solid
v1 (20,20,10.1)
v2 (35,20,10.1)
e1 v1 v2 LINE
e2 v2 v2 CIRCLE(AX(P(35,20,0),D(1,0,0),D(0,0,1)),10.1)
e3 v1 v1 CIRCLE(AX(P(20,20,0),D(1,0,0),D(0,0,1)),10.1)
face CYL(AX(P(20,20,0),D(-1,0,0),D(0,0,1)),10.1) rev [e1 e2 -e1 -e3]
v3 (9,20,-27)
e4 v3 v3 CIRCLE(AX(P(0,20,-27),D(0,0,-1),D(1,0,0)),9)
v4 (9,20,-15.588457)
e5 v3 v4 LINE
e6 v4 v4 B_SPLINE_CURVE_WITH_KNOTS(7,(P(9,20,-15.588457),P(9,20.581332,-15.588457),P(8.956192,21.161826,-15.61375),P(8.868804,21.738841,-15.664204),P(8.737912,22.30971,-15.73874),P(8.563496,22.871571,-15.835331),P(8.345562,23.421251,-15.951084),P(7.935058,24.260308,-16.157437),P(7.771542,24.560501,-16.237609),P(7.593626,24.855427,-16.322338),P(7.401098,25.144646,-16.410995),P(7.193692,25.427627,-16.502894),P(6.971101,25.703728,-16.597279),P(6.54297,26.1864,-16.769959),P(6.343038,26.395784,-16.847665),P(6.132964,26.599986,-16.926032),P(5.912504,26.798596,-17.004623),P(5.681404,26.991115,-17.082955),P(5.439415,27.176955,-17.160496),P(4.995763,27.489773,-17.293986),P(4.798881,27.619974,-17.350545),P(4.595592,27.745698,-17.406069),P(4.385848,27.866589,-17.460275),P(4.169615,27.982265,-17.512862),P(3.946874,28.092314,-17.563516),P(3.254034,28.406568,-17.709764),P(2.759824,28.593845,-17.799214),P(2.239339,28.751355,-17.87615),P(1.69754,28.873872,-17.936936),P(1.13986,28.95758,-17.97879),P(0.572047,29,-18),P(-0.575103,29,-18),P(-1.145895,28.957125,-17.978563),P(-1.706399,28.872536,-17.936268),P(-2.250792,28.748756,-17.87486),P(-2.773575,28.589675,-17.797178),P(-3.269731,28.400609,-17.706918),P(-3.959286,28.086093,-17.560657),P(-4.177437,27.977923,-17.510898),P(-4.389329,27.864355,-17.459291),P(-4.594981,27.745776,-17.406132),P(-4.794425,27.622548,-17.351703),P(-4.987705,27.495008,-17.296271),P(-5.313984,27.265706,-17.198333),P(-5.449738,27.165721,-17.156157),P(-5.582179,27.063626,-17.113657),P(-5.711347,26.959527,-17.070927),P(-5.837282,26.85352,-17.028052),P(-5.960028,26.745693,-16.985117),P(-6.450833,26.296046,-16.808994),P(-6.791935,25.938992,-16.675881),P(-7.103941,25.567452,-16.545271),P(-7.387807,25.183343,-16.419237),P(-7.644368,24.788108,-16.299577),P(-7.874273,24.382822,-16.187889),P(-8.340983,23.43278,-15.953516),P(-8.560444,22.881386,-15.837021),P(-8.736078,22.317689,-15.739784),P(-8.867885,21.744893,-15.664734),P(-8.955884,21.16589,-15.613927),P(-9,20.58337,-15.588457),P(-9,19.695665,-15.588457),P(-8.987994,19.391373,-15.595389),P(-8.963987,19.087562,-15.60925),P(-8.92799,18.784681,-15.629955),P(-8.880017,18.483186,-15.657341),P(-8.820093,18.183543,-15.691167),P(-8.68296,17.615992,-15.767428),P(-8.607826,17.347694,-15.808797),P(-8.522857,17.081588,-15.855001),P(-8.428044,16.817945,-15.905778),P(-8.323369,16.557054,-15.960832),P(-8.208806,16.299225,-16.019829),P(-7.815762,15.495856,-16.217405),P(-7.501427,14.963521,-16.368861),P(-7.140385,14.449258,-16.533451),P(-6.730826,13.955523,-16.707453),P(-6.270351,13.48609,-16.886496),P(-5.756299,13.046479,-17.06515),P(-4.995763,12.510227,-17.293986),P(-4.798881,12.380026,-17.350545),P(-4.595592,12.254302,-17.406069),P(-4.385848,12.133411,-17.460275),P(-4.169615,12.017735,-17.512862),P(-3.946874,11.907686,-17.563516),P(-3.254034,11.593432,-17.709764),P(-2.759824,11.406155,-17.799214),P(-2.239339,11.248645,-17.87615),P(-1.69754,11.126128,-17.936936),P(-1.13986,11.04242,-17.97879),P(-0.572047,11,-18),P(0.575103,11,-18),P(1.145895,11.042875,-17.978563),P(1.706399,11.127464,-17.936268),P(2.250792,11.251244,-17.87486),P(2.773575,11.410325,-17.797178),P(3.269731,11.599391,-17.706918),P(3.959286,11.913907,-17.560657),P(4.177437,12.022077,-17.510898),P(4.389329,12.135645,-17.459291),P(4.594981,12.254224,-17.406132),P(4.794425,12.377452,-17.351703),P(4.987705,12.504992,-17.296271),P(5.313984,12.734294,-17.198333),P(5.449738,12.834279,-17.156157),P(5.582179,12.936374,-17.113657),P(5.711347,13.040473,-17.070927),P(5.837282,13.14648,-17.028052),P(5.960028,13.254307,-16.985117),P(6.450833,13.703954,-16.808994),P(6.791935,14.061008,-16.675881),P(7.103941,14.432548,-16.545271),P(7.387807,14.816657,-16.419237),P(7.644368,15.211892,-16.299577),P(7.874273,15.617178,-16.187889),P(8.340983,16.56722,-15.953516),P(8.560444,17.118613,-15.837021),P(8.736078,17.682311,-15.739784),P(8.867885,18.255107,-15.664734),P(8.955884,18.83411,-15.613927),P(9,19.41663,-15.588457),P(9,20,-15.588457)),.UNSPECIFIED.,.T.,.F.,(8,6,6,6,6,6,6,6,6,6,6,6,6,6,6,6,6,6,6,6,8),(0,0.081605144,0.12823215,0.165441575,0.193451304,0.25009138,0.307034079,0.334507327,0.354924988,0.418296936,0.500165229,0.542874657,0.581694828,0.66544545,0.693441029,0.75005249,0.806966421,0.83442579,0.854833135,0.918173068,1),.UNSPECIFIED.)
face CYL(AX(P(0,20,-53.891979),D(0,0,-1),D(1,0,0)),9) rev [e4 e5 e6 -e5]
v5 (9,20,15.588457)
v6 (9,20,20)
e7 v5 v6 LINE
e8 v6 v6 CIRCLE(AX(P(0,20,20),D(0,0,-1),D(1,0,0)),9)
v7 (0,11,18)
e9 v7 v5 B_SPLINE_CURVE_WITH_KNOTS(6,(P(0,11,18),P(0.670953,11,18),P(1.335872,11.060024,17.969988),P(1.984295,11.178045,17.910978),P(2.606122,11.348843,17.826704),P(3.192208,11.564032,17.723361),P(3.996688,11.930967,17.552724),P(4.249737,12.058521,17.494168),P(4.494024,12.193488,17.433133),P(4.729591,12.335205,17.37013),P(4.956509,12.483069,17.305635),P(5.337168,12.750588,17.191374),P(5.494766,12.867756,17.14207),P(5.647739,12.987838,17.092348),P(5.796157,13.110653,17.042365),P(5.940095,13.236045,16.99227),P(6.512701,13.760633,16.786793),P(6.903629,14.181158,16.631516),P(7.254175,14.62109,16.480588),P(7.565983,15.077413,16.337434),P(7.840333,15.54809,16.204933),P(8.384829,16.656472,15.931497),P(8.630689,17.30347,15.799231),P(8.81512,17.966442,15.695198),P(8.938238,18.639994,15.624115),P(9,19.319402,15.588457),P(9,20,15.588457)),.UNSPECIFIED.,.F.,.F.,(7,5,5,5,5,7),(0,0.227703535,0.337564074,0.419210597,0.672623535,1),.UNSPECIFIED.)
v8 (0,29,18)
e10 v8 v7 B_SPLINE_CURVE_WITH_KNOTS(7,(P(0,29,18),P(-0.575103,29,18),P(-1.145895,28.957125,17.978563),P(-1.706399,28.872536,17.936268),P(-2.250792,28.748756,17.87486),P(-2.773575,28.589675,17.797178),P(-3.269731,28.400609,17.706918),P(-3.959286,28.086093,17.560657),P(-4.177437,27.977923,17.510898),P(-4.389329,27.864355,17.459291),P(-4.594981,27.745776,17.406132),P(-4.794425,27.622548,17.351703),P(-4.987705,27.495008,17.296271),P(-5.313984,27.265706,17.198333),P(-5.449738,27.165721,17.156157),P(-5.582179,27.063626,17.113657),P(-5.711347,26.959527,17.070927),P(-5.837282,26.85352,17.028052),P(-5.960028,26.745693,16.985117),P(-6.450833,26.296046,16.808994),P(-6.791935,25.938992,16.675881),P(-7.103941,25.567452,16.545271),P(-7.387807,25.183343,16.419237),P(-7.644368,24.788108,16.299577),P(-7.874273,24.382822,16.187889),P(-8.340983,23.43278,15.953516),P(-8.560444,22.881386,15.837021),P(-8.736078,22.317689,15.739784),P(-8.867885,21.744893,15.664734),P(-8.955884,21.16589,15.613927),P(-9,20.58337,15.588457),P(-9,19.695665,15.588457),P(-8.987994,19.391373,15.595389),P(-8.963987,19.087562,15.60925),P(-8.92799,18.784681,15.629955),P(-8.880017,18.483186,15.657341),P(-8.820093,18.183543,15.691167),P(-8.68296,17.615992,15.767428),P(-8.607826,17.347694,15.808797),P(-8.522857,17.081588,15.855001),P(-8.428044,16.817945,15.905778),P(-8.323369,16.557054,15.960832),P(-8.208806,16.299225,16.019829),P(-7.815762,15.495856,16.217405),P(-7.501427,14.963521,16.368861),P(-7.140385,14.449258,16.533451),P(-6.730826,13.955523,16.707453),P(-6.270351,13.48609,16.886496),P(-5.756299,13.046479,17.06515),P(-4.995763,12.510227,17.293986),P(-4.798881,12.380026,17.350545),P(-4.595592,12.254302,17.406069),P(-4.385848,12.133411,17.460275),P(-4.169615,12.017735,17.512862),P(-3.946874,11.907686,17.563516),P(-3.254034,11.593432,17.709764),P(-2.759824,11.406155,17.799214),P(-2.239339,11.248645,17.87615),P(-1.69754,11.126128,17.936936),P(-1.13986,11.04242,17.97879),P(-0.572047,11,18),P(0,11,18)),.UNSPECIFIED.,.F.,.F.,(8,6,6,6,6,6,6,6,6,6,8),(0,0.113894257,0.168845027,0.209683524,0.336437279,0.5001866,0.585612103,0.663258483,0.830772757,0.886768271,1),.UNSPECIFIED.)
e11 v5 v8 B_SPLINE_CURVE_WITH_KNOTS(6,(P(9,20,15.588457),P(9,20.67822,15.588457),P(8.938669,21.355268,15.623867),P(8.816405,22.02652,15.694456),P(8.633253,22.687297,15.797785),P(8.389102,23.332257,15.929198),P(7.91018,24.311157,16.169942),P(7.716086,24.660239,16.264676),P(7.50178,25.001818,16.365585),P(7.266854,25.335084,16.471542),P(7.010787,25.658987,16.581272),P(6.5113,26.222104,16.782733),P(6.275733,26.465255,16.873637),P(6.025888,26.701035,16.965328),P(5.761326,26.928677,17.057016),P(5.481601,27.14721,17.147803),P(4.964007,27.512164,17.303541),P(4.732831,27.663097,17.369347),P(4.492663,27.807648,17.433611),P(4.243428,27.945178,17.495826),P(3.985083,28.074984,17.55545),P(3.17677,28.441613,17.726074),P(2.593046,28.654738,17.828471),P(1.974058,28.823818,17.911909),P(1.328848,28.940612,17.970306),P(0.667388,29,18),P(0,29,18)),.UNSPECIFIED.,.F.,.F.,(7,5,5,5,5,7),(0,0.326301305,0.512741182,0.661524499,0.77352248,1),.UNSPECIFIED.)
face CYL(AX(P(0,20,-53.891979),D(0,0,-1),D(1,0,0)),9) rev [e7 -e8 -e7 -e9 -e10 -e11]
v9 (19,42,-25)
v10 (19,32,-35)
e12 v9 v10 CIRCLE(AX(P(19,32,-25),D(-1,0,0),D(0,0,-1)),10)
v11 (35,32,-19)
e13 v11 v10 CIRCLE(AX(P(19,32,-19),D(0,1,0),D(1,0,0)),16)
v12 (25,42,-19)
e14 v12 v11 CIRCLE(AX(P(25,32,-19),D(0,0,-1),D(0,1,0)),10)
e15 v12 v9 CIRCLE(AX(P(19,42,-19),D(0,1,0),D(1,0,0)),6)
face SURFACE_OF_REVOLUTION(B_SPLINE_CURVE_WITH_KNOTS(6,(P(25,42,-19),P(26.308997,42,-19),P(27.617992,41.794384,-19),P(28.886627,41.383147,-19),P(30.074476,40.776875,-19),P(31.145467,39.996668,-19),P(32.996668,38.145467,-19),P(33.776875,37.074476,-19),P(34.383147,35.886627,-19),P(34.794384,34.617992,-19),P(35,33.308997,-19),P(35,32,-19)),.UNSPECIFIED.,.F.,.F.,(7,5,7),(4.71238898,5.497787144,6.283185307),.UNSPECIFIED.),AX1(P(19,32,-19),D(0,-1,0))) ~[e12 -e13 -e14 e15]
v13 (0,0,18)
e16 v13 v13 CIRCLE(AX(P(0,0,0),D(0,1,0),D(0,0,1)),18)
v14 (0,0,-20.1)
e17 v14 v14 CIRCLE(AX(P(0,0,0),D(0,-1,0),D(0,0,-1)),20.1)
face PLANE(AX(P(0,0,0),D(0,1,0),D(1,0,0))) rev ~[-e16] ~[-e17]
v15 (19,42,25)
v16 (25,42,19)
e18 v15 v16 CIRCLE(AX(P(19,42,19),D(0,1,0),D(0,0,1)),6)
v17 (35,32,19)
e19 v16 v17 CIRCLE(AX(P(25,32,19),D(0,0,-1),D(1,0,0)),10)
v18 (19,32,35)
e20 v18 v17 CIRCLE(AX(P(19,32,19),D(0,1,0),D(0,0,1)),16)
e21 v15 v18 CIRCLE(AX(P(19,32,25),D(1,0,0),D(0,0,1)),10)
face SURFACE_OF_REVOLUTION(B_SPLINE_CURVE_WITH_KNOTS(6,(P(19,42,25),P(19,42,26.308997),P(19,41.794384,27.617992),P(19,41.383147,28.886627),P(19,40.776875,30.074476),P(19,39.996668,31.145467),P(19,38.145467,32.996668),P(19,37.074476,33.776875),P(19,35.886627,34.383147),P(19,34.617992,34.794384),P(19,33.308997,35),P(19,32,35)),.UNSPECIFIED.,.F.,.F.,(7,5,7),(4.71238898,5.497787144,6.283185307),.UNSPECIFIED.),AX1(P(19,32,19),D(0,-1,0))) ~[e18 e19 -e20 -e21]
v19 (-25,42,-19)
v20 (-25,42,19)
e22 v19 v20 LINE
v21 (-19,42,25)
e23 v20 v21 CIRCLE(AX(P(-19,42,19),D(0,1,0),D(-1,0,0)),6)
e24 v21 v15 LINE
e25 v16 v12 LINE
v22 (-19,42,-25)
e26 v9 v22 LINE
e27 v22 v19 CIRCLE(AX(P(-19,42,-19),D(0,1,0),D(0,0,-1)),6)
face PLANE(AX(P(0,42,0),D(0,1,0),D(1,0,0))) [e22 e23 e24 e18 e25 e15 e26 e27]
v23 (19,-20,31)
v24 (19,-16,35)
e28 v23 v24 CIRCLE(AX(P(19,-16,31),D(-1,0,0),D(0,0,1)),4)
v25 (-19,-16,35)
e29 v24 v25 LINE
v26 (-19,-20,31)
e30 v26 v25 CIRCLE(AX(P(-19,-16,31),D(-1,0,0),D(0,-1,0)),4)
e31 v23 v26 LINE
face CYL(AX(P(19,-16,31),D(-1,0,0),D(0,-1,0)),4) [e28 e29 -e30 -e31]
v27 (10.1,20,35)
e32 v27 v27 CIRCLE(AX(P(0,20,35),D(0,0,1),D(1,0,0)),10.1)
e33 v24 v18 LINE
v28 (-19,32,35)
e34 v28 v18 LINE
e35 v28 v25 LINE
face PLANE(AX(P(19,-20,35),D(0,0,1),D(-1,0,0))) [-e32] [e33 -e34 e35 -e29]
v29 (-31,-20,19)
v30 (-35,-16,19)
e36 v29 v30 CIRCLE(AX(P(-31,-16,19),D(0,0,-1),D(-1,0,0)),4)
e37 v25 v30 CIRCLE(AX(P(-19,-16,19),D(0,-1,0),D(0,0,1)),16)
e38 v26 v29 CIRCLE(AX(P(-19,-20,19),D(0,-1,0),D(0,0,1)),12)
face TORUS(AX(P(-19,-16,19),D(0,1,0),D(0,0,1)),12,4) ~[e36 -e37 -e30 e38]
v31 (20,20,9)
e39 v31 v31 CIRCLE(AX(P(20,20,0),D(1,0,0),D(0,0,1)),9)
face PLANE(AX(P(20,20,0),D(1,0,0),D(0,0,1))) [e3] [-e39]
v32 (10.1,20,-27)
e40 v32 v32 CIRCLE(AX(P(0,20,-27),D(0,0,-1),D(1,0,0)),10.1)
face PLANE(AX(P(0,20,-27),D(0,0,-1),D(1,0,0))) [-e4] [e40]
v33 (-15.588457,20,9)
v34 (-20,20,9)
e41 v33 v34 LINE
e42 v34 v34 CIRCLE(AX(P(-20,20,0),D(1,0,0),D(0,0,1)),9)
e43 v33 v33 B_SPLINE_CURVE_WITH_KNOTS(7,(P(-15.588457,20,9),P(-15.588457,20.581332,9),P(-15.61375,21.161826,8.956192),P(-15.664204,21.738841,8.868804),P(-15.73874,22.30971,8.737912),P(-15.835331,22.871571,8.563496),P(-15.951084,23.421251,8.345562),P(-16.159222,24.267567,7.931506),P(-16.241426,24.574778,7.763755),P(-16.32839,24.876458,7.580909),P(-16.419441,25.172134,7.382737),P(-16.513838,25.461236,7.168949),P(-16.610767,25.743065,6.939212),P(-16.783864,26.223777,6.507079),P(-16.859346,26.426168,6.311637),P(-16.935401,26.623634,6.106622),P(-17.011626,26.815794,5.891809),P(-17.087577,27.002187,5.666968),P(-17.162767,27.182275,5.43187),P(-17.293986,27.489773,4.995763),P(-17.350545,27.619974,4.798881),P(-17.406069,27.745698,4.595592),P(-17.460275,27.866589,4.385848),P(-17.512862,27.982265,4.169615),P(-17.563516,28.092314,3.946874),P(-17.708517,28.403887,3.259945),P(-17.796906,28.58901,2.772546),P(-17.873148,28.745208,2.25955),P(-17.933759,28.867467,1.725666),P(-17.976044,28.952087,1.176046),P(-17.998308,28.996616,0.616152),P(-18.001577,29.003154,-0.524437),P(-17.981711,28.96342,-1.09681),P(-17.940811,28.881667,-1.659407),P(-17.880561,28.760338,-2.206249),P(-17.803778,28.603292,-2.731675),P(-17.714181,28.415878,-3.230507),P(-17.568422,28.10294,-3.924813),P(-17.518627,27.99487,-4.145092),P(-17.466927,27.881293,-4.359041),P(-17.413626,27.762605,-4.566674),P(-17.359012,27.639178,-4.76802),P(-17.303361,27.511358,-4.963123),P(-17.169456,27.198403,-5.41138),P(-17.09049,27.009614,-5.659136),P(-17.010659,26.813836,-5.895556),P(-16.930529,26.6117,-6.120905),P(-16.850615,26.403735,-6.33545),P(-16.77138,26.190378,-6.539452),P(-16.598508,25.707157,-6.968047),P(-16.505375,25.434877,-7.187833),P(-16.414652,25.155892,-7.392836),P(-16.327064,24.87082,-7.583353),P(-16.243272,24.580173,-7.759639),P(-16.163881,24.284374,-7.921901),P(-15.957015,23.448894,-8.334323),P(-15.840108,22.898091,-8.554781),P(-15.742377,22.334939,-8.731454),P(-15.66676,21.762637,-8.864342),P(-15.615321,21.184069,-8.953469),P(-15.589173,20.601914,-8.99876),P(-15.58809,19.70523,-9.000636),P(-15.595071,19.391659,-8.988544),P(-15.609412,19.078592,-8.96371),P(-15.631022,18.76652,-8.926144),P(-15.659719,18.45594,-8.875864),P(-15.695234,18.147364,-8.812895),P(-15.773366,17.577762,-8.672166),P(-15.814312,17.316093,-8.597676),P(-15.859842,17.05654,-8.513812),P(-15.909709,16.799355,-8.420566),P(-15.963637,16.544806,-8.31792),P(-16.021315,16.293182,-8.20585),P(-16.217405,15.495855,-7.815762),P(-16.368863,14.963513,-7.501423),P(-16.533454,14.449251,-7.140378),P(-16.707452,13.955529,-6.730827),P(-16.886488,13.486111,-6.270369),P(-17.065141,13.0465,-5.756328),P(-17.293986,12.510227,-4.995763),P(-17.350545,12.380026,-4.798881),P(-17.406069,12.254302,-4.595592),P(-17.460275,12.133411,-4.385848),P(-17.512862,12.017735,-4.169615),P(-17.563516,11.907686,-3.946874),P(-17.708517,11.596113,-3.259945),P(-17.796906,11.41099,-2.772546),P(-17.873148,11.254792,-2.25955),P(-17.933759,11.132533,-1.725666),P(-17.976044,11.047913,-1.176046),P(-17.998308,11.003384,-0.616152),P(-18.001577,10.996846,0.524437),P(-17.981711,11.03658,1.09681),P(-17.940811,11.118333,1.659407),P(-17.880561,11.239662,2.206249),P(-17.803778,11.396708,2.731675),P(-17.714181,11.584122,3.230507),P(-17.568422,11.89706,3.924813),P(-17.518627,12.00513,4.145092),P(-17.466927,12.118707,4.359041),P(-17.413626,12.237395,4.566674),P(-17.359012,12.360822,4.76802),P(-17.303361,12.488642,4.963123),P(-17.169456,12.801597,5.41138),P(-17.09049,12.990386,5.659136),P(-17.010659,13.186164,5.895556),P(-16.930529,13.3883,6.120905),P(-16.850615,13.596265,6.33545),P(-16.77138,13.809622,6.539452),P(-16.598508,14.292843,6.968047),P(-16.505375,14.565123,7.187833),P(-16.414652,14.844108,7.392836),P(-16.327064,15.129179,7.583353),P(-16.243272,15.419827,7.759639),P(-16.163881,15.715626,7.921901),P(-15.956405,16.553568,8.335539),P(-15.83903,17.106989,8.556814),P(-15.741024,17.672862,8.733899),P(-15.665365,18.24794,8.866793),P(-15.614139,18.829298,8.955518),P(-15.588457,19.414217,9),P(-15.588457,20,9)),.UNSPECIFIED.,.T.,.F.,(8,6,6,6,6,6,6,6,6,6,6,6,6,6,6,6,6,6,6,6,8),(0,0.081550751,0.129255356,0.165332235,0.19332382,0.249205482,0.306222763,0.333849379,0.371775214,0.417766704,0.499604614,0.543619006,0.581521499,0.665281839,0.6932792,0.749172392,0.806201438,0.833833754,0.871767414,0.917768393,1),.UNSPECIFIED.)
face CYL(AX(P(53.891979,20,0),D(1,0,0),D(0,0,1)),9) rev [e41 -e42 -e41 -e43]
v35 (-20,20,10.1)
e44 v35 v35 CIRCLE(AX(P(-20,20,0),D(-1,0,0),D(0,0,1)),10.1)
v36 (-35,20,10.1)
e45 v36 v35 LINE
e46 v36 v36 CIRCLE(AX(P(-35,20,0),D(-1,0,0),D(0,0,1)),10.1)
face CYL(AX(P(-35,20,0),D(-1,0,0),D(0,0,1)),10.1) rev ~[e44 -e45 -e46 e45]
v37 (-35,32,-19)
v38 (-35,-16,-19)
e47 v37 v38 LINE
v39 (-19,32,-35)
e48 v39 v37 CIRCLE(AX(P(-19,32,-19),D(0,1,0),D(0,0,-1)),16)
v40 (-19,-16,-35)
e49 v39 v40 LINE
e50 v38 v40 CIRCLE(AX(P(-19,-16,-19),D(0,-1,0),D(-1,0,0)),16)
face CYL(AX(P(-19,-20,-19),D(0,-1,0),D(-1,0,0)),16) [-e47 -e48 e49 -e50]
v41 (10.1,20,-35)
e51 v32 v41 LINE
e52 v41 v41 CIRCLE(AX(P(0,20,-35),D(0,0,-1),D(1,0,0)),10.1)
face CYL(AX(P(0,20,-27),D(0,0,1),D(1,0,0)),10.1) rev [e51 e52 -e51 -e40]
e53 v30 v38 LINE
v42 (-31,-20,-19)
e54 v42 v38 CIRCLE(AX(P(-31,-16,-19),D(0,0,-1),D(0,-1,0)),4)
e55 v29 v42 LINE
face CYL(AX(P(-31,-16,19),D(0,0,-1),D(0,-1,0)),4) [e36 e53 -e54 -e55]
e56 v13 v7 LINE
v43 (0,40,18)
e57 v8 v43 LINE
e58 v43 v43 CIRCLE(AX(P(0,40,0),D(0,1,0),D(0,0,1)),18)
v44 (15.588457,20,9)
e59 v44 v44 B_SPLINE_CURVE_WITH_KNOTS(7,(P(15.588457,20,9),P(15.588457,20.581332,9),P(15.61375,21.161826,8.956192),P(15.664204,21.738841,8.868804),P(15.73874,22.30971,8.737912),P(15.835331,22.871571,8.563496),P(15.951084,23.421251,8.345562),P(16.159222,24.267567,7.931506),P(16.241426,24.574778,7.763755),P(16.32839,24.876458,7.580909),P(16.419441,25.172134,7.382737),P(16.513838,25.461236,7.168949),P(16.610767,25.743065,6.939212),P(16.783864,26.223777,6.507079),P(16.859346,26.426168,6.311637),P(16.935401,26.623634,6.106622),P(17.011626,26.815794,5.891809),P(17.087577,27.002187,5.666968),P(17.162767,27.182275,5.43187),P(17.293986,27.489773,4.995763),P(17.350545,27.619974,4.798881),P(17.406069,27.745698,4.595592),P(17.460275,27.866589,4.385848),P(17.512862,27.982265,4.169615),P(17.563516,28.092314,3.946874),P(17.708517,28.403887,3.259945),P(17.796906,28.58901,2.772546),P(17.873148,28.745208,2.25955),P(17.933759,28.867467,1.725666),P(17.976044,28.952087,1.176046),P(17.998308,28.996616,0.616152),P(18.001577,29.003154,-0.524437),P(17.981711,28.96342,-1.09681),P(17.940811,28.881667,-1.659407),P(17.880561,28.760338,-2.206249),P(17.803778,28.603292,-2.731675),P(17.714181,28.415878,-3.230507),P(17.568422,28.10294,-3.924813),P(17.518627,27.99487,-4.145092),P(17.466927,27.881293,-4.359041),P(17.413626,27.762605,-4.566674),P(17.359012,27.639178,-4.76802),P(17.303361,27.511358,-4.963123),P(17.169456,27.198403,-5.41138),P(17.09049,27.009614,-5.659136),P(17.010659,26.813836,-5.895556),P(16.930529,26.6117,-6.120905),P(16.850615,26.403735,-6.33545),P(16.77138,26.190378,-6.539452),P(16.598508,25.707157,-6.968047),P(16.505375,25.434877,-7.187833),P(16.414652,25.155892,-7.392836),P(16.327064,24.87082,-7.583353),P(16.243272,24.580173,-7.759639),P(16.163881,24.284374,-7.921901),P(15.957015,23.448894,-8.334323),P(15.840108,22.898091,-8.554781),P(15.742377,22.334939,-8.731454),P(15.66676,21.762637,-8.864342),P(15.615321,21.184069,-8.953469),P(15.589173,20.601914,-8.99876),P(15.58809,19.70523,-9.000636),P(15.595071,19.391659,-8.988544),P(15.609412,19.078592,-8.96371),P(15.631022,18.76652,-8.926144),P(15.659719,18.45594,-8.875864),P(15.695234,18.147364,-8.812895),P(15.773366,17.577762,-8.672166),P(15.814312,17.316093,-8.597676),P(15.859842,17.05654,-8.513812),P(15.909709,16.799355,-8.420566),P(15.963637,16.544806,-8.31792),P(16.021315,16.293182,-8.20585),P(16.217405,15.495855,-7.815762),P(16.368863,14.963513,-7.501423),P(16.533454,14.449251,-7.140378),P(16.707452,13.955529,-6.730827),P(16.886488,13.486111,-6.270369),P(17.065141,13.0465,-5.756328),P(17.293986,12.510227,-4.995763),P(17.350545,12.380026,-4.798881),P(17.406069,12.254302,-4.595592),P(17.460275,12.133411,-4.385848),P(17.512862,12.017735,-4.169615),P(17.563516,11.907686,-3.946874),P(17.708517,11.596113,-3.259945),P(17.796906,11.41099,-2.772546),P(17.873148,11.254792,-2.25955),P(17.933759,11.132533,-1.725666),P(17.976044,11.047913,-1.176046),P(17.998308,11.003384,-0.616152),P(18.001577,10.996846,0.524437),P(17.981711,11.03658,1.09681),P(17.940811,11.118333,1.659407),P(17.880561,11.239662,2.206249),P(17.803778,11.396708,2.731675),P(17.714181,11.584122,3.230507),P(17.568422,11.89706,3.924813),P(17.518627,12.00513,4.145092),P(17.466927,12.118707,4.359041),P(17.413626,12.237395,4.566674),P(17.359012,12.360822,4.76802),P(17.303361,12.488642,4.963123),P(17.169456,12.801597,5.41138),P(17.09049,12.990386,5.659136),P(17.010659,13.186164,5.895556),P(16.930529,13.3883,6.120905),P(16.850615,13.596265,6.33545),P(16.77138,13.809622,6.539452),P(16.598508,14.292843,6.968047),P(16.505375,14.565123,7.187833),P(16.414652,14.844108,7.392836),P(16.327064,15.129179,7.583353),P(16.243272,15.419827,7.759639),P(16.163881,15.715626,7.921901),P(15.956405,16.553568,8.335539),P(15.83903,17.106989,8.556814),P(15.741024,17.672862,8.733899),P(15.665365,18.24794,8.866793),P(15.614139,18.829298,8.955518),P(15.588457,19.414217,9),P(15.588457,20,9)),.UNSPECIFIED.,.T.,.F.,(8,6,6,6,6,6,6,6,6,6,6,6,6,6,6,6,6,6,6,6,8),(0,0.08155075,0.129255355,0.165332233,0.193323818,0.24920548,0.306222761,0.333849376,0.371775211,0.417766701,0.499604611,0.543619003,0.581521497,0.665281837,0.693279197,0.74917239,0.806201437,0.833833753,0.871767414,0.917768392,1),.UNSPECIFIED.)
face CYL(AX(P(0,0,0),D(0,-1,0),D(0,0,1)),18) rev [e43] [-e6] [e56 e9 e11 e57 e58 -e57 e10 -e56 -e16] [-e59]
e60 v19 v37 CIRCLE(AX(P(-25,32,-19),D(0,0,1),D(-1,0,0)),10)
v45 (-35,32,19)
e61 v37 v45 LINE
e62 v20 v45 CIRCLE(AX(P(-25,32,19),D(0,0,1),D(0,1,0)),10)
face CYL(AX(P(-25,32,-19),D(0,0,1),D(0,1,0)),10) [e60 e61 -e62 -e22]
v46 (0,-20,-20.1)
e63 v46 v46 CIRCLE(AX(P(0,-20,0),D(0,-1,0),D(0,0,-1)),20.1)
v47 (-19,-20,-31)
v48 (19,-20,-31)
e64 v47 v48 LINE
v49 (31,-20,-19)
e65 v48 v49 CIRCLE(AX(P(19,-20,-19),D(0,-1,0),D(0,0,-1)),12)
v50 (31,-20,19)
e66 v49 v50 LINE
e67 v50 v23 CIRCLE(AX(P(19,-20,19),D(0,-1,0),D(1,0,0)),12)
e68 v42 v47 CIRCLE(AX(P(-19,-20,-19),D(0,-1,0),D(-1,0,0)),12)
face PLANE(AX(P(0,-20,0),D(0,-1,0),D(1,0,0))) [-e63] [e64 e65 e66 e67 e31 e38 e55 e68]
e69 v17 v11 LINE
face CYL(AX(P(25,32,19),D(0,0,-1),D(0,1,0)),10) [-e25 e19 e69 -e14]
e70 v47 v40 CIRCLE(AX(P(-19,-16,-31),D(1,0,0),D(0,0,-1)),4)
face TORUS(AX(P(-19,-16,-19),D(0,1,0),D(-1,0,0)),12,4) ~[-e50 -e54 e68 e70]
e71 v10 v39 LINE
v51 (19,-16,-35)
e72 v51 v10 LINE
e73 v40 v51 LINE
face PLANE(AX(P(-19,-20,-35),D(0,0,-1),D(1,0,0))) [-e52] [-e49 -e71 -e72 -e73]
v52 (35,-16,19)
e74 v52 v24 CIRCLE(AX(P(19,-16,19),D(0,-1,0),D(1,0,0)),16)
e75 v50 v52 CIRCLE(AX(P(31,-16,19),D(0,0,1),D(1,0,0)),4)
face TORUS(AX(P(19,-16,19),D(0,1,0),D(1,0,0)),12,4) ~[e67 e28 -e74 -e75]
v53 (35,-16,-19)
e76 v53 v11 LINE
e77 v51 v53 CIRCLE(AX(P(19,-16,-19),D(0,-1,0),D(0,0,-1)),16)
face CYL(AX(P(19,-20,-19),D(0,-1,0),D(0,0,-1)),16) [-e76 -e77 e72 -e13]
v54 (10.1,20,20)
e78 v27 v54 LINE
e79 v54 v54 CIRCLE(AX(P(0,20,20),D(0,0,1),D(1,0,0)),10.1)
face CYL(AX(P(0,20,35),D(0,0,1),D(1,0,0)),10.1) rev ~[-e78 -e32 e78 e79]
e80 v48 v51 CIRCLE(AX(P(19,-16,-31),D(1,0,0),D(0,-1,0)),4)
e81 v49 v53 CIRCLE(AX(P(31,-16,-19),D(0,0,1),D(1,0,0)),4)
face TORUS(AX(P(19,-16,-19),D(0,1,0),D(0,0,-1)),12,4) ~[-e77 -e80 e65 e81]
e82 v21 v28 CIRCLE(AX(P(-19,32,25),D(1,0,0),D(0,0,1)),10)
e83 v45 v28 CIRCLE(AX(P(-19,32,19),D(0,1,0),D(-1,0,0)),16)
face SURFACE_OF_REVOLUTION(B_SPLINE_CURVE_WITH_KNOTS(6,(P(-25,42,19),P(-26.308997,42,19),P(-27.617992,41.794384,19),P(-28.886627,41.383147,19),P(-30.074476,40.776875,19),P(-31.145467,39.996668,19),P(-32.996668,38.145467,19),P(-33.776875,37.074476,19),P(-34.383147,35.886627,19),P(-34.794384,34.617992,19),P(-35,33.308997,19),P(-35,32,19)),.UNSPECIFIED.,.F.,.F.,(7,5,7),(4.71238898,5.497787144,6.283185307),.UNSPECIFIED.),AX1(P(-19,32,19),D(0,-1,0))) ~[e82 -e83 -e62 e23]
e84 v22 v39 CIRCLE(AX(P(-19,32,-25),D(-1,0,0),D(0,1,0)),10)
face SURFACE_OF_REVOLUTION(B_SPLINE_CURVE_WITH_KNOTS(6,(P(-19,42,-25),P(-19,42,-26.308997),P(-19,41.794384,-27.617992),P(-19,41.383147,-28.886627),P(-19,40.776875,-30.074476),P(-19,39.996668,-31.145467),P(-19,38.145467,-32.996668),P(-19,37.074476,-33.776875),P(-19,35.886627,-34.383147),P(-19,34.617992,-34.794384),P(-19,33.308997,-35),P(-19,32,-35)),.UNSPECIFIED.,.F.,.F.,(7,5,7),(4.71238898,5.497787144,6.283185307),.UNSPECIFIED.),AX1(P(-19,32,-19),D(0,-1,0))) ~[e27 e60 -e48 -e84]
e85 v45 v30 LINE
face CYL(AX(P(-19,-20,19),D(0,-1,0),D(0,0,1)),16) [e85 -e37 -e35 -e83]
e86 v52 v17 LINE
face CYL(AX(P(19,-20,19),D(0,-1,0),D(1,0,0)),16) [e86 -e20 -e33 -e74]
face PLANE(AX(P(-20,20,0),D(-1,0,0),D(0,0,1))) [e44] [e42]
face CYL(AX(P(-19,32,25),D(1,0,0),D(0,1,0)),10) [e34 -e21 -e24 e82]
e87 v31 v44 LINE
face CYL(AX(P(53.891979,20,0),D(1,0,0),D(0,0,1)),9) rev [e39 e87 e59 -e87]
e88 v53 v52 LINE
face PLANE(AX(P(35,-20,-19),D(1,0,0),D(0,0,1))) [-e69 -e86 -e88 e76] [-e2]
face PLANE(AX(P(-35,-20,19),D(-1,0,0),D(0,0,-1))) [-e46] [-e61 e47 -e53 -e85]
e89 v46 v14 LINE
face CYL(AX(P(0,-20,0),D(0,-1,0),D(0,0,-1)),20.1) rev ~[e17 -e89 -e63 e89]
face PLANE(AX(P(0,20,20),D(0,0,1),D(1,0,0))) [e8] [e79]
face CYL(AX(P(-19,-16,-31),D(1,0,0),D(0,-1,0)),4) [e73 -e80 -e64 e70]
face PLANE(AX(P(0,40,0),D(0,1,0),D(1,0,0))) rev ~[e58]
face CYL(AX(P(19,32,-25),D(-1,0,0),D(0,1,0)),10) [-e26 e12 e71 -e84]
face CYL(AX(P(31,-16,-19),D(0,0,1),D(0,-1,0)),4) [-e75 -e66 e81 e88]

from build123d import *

# Parameters (mm, degrees)
SKETCH_1_R               = 18
EXTRUDE_1_DEPTH          = 40
CUT_EXTRUDE_2_DEPTH      = 88.891979156
CUT_EXTRUDE_2_DEPTH_BACK = 88.891979156
SKETCH_2_R               = 9
SKETCH_3_R               = 10.1
CUT_EXTRUDE_3_DEPTH      = 15
CUT_EXTRUDE_START        = -15
SKETCH_4_R               = 10.1
CUT_EXTRUDE_4_DEPTH      = 15
CUT_EXTRUDE_5_DEPTH      = 88.891979202
CUT_EXTRUDE_5_DEPTH_BACK = 88.891979202
SKETCH_5_R               = 9
SKETCH_6_R               = 10.1
CUT_EXTRUDE_6_DEPTH      = 15
CUT_EXTRUDE_START_2      = -8
SKETCH_7_R               = 10.1
CUT_EXTRUDE_7_DEPTH      = 8
EXTRUDE_2_DEPTH          = 2
FILLET_1_R               = 10
EXTRUDE_START            = 20
SKETCH_10_R              = 20.1
EXTRUDE_3_DEPTH          = 20
FILLET_2_R               = 4


with BuildPart() as part:
    # Эскиз1 → Бобышка-Вытянуть1 (new body)
    with BuildSketch(Plane(origin=(0, 0, 0), x_dir=(1, 0, 0), z_dir=(0, 1, 0))):
        with BuildLine():
            Line((19, 35), (-19, 35))
            ThreePointArc((-19, 35), (-30.313708499, 30.313708499), (-35, 19))
            Line((-35, 19), (-35, -19))
            ThreePointArc((-35, -19), (-30.313708499, -30.313708499), (-19, -35))
            Line((-19, -35), (19, -35))
            ThreePointArc((19, -35), (30.313708499, -30.313708499), (35, -19))
            Line((35, -19), (35, 19))
            ThreePointArc((35, 19), (30.313708499, 30.313708499), (19, 35))
        make_face()
        with Locations(Location((0, 0, 0), (0, 0, 270))):
            Circle(SKETCH_1_R, mode=Mode.SUBTRACT)
    extrude(amount=EXTRUDE_1_DEPTH)

    # Эскиз2 → Вырез-Вытянуть2 (cut, two sides: drawn at the far end of the back side and taken through both)
    with BuildSketch(Plane.ZY.offset(35).offset(-CUT_EXTRUDE_2_DEPTH_BACK)):
        with Locations((0, 20)):
            Circle(SKETCH_2_R)
    extrude(amount=CUT_EXTRUDE_2_DEPTH + CUT_EXTRUDE_2_DEPTH_BACK, mode=Mode.SUBTRACT)

    # Эскиз3 → Вырез-Вытянуть3 (cut)
    with BuildSketch(Plane.ZY.offset(35)):
        with Locations((0, 20)):
            Circle(SKETCH_3_R)
    extrude(amount=-CUT_EXTRUDE_3_DEPTH, mode=Mode.SUBTRACT)

    # Эскиз4 → Вырез-Вытянуть4 (cut)
    with BuildSketch(Plane(origin=(35, 0, 0), x_dir=(0, 0, -1), z_dir=(1, 0, 0)).offset(CUT_EXTRUDE_START)):
        with Locations(Location((0, 20, 0), (0, 0, 180))):
            Circle(SKETCH_4_R)
    extrude(amount=CUT_EXTRUDE_4_DEPTH, mode=Mode.SUBTRACT)

    # Эскиз5 → Вырез-Вытянуть5 (cut, two sides: drawn at the far end of the back side and taken through both)
    with BuildSketch(Plane.XY.offset(35).offset(-CUT_EXTRUDE_5_DEPTH_BACK)):
        with Locations((0, 20)):
            Circle(SKETCH_5_R)
    extrude(amount=CUT_EXTRUDE_5_DEPTH + CUT_EXTRUDE_5_DEPTH_BACK, mode=Mode.SUBTRACT)

    # Эскиз6 → Вырез-Вытянуть6 (cut)
    with BuildSketch(Plane.XY.offset(35)):
        with Locations((0, 20)):
            Circle(SKETCH_6_R)
    extrude(amount=-CUT_EXTRUDE_6_DEPTH, mode=Mode.SUBTRACT)

    # Эскиз7 → Вырез-Вытянуть7 (cut)
    with BuildSketch(Plane(origin=(0, 0, -35), x_dir=(-1, 0, 0), z_dir=(0, 0, -1)).offset(CUT_EXTRUDE_START_2)):
        with Locations(Location((0, 20, 0), (0, 0, 180))):
            Circle(SKETCH_7_R)
    extrude(amount=CUT_EXTRUDE_7_DEPTH, mode=Mode.SUBTRACT)

    # Эскиз9 → Бобышка-Вытянуть2 (add)
    with BuildSketch(Plane(origin=(0, 40, 0), x_dir=(1, 0, 0), z_dir=(0, 1, 0))):
        with BuildLine():
            Line((35, -19), (35, 19))
            ThreePointArc((35, 19), (30.313708499, 30.313708499), (19, 35))
            Line((19, 35), (-19, 35))
            ThreePointArc((-19, 35), (-30.313708499, 30.313708499), (-35, 19))
            Line((-35, 19), (-35, -19))
            ThreePointArc((-35, -19), (-30.313708499, -30.313708499), (-19, -35))
            Line((-19, -35), (19, -35))
            ThreePointArc((19, -35), (30.313708499, -30.313708499), (35, -19))
        make_face()
    extrude(amount=EXTRUDE_2_DEPTH)

    # Скругление1
    fillet_1_edges = [part.edges().sort_by_distance(p)[0] for p in [
        (30.313708499, 42, 30.313708499),
        (35, 42, 0),
        (30.313708499, 42, -30.313708499),
        (0, 42, -35),
        (-30.313708499, 42, -30.313708499),
        (-35, 42, 0),
        (-30.313708499, 42, 30.313708499),
        (0, 42, 35),
    ]]
    fillet(fillet_1_edges, radius=FILLET_1_R)

    # Эскиз10 → Бобышка-Вытянуть3 (add)
    with BuildSketch(Plane.XZ.offset(EXTRUDE_START)):
        with BuildLine():
            Line((19, 35), (-19, 35))
            ThreePointArc((-19, 35), (-30.313708499, 30.313708499), (-35, 19))
            Line((-35, 19), (-35, -19))
            ThreePointArc((-35, -19), (-30.313708499, -30.313708499), (-19, -35))
            Line((-19, -35), (19, -35))
            ThreePointArc((19, -35), (30.313708499, -30.313708499), (35, -19))
            Line((35, -19), (35, 19))
            ThreePointArc((35, 19), (30.313708499, 30.313708499), (19, 35))
        make_face()
        with Locations(Location((0, 0, 0), (0, 0, 270))):
            Circle(SKETCH_10_R, mode=Mode.SUBTRACT)
    extrude(amount=-EXTRUDE_3_DEPTH)

    # Скругление2
    fillet_2_edges = [part.edges().sort_by_distance(p)[0] for p in [
        (30.313708499, -20, 30.313708499),
        (0, -20, 35),
        (-30.313708499, -20, 30.313708499),
        (-35, -20, 0),
        (-30.313708499, -20, -30.313708499),
        (0, -20, -35),
        (30.313708499, -20, -30.313708499),
        (35, -20, 0),
    ]]
    fillet(fillet_2_edges, radius=FILLET_2_R)


solid = part.part
